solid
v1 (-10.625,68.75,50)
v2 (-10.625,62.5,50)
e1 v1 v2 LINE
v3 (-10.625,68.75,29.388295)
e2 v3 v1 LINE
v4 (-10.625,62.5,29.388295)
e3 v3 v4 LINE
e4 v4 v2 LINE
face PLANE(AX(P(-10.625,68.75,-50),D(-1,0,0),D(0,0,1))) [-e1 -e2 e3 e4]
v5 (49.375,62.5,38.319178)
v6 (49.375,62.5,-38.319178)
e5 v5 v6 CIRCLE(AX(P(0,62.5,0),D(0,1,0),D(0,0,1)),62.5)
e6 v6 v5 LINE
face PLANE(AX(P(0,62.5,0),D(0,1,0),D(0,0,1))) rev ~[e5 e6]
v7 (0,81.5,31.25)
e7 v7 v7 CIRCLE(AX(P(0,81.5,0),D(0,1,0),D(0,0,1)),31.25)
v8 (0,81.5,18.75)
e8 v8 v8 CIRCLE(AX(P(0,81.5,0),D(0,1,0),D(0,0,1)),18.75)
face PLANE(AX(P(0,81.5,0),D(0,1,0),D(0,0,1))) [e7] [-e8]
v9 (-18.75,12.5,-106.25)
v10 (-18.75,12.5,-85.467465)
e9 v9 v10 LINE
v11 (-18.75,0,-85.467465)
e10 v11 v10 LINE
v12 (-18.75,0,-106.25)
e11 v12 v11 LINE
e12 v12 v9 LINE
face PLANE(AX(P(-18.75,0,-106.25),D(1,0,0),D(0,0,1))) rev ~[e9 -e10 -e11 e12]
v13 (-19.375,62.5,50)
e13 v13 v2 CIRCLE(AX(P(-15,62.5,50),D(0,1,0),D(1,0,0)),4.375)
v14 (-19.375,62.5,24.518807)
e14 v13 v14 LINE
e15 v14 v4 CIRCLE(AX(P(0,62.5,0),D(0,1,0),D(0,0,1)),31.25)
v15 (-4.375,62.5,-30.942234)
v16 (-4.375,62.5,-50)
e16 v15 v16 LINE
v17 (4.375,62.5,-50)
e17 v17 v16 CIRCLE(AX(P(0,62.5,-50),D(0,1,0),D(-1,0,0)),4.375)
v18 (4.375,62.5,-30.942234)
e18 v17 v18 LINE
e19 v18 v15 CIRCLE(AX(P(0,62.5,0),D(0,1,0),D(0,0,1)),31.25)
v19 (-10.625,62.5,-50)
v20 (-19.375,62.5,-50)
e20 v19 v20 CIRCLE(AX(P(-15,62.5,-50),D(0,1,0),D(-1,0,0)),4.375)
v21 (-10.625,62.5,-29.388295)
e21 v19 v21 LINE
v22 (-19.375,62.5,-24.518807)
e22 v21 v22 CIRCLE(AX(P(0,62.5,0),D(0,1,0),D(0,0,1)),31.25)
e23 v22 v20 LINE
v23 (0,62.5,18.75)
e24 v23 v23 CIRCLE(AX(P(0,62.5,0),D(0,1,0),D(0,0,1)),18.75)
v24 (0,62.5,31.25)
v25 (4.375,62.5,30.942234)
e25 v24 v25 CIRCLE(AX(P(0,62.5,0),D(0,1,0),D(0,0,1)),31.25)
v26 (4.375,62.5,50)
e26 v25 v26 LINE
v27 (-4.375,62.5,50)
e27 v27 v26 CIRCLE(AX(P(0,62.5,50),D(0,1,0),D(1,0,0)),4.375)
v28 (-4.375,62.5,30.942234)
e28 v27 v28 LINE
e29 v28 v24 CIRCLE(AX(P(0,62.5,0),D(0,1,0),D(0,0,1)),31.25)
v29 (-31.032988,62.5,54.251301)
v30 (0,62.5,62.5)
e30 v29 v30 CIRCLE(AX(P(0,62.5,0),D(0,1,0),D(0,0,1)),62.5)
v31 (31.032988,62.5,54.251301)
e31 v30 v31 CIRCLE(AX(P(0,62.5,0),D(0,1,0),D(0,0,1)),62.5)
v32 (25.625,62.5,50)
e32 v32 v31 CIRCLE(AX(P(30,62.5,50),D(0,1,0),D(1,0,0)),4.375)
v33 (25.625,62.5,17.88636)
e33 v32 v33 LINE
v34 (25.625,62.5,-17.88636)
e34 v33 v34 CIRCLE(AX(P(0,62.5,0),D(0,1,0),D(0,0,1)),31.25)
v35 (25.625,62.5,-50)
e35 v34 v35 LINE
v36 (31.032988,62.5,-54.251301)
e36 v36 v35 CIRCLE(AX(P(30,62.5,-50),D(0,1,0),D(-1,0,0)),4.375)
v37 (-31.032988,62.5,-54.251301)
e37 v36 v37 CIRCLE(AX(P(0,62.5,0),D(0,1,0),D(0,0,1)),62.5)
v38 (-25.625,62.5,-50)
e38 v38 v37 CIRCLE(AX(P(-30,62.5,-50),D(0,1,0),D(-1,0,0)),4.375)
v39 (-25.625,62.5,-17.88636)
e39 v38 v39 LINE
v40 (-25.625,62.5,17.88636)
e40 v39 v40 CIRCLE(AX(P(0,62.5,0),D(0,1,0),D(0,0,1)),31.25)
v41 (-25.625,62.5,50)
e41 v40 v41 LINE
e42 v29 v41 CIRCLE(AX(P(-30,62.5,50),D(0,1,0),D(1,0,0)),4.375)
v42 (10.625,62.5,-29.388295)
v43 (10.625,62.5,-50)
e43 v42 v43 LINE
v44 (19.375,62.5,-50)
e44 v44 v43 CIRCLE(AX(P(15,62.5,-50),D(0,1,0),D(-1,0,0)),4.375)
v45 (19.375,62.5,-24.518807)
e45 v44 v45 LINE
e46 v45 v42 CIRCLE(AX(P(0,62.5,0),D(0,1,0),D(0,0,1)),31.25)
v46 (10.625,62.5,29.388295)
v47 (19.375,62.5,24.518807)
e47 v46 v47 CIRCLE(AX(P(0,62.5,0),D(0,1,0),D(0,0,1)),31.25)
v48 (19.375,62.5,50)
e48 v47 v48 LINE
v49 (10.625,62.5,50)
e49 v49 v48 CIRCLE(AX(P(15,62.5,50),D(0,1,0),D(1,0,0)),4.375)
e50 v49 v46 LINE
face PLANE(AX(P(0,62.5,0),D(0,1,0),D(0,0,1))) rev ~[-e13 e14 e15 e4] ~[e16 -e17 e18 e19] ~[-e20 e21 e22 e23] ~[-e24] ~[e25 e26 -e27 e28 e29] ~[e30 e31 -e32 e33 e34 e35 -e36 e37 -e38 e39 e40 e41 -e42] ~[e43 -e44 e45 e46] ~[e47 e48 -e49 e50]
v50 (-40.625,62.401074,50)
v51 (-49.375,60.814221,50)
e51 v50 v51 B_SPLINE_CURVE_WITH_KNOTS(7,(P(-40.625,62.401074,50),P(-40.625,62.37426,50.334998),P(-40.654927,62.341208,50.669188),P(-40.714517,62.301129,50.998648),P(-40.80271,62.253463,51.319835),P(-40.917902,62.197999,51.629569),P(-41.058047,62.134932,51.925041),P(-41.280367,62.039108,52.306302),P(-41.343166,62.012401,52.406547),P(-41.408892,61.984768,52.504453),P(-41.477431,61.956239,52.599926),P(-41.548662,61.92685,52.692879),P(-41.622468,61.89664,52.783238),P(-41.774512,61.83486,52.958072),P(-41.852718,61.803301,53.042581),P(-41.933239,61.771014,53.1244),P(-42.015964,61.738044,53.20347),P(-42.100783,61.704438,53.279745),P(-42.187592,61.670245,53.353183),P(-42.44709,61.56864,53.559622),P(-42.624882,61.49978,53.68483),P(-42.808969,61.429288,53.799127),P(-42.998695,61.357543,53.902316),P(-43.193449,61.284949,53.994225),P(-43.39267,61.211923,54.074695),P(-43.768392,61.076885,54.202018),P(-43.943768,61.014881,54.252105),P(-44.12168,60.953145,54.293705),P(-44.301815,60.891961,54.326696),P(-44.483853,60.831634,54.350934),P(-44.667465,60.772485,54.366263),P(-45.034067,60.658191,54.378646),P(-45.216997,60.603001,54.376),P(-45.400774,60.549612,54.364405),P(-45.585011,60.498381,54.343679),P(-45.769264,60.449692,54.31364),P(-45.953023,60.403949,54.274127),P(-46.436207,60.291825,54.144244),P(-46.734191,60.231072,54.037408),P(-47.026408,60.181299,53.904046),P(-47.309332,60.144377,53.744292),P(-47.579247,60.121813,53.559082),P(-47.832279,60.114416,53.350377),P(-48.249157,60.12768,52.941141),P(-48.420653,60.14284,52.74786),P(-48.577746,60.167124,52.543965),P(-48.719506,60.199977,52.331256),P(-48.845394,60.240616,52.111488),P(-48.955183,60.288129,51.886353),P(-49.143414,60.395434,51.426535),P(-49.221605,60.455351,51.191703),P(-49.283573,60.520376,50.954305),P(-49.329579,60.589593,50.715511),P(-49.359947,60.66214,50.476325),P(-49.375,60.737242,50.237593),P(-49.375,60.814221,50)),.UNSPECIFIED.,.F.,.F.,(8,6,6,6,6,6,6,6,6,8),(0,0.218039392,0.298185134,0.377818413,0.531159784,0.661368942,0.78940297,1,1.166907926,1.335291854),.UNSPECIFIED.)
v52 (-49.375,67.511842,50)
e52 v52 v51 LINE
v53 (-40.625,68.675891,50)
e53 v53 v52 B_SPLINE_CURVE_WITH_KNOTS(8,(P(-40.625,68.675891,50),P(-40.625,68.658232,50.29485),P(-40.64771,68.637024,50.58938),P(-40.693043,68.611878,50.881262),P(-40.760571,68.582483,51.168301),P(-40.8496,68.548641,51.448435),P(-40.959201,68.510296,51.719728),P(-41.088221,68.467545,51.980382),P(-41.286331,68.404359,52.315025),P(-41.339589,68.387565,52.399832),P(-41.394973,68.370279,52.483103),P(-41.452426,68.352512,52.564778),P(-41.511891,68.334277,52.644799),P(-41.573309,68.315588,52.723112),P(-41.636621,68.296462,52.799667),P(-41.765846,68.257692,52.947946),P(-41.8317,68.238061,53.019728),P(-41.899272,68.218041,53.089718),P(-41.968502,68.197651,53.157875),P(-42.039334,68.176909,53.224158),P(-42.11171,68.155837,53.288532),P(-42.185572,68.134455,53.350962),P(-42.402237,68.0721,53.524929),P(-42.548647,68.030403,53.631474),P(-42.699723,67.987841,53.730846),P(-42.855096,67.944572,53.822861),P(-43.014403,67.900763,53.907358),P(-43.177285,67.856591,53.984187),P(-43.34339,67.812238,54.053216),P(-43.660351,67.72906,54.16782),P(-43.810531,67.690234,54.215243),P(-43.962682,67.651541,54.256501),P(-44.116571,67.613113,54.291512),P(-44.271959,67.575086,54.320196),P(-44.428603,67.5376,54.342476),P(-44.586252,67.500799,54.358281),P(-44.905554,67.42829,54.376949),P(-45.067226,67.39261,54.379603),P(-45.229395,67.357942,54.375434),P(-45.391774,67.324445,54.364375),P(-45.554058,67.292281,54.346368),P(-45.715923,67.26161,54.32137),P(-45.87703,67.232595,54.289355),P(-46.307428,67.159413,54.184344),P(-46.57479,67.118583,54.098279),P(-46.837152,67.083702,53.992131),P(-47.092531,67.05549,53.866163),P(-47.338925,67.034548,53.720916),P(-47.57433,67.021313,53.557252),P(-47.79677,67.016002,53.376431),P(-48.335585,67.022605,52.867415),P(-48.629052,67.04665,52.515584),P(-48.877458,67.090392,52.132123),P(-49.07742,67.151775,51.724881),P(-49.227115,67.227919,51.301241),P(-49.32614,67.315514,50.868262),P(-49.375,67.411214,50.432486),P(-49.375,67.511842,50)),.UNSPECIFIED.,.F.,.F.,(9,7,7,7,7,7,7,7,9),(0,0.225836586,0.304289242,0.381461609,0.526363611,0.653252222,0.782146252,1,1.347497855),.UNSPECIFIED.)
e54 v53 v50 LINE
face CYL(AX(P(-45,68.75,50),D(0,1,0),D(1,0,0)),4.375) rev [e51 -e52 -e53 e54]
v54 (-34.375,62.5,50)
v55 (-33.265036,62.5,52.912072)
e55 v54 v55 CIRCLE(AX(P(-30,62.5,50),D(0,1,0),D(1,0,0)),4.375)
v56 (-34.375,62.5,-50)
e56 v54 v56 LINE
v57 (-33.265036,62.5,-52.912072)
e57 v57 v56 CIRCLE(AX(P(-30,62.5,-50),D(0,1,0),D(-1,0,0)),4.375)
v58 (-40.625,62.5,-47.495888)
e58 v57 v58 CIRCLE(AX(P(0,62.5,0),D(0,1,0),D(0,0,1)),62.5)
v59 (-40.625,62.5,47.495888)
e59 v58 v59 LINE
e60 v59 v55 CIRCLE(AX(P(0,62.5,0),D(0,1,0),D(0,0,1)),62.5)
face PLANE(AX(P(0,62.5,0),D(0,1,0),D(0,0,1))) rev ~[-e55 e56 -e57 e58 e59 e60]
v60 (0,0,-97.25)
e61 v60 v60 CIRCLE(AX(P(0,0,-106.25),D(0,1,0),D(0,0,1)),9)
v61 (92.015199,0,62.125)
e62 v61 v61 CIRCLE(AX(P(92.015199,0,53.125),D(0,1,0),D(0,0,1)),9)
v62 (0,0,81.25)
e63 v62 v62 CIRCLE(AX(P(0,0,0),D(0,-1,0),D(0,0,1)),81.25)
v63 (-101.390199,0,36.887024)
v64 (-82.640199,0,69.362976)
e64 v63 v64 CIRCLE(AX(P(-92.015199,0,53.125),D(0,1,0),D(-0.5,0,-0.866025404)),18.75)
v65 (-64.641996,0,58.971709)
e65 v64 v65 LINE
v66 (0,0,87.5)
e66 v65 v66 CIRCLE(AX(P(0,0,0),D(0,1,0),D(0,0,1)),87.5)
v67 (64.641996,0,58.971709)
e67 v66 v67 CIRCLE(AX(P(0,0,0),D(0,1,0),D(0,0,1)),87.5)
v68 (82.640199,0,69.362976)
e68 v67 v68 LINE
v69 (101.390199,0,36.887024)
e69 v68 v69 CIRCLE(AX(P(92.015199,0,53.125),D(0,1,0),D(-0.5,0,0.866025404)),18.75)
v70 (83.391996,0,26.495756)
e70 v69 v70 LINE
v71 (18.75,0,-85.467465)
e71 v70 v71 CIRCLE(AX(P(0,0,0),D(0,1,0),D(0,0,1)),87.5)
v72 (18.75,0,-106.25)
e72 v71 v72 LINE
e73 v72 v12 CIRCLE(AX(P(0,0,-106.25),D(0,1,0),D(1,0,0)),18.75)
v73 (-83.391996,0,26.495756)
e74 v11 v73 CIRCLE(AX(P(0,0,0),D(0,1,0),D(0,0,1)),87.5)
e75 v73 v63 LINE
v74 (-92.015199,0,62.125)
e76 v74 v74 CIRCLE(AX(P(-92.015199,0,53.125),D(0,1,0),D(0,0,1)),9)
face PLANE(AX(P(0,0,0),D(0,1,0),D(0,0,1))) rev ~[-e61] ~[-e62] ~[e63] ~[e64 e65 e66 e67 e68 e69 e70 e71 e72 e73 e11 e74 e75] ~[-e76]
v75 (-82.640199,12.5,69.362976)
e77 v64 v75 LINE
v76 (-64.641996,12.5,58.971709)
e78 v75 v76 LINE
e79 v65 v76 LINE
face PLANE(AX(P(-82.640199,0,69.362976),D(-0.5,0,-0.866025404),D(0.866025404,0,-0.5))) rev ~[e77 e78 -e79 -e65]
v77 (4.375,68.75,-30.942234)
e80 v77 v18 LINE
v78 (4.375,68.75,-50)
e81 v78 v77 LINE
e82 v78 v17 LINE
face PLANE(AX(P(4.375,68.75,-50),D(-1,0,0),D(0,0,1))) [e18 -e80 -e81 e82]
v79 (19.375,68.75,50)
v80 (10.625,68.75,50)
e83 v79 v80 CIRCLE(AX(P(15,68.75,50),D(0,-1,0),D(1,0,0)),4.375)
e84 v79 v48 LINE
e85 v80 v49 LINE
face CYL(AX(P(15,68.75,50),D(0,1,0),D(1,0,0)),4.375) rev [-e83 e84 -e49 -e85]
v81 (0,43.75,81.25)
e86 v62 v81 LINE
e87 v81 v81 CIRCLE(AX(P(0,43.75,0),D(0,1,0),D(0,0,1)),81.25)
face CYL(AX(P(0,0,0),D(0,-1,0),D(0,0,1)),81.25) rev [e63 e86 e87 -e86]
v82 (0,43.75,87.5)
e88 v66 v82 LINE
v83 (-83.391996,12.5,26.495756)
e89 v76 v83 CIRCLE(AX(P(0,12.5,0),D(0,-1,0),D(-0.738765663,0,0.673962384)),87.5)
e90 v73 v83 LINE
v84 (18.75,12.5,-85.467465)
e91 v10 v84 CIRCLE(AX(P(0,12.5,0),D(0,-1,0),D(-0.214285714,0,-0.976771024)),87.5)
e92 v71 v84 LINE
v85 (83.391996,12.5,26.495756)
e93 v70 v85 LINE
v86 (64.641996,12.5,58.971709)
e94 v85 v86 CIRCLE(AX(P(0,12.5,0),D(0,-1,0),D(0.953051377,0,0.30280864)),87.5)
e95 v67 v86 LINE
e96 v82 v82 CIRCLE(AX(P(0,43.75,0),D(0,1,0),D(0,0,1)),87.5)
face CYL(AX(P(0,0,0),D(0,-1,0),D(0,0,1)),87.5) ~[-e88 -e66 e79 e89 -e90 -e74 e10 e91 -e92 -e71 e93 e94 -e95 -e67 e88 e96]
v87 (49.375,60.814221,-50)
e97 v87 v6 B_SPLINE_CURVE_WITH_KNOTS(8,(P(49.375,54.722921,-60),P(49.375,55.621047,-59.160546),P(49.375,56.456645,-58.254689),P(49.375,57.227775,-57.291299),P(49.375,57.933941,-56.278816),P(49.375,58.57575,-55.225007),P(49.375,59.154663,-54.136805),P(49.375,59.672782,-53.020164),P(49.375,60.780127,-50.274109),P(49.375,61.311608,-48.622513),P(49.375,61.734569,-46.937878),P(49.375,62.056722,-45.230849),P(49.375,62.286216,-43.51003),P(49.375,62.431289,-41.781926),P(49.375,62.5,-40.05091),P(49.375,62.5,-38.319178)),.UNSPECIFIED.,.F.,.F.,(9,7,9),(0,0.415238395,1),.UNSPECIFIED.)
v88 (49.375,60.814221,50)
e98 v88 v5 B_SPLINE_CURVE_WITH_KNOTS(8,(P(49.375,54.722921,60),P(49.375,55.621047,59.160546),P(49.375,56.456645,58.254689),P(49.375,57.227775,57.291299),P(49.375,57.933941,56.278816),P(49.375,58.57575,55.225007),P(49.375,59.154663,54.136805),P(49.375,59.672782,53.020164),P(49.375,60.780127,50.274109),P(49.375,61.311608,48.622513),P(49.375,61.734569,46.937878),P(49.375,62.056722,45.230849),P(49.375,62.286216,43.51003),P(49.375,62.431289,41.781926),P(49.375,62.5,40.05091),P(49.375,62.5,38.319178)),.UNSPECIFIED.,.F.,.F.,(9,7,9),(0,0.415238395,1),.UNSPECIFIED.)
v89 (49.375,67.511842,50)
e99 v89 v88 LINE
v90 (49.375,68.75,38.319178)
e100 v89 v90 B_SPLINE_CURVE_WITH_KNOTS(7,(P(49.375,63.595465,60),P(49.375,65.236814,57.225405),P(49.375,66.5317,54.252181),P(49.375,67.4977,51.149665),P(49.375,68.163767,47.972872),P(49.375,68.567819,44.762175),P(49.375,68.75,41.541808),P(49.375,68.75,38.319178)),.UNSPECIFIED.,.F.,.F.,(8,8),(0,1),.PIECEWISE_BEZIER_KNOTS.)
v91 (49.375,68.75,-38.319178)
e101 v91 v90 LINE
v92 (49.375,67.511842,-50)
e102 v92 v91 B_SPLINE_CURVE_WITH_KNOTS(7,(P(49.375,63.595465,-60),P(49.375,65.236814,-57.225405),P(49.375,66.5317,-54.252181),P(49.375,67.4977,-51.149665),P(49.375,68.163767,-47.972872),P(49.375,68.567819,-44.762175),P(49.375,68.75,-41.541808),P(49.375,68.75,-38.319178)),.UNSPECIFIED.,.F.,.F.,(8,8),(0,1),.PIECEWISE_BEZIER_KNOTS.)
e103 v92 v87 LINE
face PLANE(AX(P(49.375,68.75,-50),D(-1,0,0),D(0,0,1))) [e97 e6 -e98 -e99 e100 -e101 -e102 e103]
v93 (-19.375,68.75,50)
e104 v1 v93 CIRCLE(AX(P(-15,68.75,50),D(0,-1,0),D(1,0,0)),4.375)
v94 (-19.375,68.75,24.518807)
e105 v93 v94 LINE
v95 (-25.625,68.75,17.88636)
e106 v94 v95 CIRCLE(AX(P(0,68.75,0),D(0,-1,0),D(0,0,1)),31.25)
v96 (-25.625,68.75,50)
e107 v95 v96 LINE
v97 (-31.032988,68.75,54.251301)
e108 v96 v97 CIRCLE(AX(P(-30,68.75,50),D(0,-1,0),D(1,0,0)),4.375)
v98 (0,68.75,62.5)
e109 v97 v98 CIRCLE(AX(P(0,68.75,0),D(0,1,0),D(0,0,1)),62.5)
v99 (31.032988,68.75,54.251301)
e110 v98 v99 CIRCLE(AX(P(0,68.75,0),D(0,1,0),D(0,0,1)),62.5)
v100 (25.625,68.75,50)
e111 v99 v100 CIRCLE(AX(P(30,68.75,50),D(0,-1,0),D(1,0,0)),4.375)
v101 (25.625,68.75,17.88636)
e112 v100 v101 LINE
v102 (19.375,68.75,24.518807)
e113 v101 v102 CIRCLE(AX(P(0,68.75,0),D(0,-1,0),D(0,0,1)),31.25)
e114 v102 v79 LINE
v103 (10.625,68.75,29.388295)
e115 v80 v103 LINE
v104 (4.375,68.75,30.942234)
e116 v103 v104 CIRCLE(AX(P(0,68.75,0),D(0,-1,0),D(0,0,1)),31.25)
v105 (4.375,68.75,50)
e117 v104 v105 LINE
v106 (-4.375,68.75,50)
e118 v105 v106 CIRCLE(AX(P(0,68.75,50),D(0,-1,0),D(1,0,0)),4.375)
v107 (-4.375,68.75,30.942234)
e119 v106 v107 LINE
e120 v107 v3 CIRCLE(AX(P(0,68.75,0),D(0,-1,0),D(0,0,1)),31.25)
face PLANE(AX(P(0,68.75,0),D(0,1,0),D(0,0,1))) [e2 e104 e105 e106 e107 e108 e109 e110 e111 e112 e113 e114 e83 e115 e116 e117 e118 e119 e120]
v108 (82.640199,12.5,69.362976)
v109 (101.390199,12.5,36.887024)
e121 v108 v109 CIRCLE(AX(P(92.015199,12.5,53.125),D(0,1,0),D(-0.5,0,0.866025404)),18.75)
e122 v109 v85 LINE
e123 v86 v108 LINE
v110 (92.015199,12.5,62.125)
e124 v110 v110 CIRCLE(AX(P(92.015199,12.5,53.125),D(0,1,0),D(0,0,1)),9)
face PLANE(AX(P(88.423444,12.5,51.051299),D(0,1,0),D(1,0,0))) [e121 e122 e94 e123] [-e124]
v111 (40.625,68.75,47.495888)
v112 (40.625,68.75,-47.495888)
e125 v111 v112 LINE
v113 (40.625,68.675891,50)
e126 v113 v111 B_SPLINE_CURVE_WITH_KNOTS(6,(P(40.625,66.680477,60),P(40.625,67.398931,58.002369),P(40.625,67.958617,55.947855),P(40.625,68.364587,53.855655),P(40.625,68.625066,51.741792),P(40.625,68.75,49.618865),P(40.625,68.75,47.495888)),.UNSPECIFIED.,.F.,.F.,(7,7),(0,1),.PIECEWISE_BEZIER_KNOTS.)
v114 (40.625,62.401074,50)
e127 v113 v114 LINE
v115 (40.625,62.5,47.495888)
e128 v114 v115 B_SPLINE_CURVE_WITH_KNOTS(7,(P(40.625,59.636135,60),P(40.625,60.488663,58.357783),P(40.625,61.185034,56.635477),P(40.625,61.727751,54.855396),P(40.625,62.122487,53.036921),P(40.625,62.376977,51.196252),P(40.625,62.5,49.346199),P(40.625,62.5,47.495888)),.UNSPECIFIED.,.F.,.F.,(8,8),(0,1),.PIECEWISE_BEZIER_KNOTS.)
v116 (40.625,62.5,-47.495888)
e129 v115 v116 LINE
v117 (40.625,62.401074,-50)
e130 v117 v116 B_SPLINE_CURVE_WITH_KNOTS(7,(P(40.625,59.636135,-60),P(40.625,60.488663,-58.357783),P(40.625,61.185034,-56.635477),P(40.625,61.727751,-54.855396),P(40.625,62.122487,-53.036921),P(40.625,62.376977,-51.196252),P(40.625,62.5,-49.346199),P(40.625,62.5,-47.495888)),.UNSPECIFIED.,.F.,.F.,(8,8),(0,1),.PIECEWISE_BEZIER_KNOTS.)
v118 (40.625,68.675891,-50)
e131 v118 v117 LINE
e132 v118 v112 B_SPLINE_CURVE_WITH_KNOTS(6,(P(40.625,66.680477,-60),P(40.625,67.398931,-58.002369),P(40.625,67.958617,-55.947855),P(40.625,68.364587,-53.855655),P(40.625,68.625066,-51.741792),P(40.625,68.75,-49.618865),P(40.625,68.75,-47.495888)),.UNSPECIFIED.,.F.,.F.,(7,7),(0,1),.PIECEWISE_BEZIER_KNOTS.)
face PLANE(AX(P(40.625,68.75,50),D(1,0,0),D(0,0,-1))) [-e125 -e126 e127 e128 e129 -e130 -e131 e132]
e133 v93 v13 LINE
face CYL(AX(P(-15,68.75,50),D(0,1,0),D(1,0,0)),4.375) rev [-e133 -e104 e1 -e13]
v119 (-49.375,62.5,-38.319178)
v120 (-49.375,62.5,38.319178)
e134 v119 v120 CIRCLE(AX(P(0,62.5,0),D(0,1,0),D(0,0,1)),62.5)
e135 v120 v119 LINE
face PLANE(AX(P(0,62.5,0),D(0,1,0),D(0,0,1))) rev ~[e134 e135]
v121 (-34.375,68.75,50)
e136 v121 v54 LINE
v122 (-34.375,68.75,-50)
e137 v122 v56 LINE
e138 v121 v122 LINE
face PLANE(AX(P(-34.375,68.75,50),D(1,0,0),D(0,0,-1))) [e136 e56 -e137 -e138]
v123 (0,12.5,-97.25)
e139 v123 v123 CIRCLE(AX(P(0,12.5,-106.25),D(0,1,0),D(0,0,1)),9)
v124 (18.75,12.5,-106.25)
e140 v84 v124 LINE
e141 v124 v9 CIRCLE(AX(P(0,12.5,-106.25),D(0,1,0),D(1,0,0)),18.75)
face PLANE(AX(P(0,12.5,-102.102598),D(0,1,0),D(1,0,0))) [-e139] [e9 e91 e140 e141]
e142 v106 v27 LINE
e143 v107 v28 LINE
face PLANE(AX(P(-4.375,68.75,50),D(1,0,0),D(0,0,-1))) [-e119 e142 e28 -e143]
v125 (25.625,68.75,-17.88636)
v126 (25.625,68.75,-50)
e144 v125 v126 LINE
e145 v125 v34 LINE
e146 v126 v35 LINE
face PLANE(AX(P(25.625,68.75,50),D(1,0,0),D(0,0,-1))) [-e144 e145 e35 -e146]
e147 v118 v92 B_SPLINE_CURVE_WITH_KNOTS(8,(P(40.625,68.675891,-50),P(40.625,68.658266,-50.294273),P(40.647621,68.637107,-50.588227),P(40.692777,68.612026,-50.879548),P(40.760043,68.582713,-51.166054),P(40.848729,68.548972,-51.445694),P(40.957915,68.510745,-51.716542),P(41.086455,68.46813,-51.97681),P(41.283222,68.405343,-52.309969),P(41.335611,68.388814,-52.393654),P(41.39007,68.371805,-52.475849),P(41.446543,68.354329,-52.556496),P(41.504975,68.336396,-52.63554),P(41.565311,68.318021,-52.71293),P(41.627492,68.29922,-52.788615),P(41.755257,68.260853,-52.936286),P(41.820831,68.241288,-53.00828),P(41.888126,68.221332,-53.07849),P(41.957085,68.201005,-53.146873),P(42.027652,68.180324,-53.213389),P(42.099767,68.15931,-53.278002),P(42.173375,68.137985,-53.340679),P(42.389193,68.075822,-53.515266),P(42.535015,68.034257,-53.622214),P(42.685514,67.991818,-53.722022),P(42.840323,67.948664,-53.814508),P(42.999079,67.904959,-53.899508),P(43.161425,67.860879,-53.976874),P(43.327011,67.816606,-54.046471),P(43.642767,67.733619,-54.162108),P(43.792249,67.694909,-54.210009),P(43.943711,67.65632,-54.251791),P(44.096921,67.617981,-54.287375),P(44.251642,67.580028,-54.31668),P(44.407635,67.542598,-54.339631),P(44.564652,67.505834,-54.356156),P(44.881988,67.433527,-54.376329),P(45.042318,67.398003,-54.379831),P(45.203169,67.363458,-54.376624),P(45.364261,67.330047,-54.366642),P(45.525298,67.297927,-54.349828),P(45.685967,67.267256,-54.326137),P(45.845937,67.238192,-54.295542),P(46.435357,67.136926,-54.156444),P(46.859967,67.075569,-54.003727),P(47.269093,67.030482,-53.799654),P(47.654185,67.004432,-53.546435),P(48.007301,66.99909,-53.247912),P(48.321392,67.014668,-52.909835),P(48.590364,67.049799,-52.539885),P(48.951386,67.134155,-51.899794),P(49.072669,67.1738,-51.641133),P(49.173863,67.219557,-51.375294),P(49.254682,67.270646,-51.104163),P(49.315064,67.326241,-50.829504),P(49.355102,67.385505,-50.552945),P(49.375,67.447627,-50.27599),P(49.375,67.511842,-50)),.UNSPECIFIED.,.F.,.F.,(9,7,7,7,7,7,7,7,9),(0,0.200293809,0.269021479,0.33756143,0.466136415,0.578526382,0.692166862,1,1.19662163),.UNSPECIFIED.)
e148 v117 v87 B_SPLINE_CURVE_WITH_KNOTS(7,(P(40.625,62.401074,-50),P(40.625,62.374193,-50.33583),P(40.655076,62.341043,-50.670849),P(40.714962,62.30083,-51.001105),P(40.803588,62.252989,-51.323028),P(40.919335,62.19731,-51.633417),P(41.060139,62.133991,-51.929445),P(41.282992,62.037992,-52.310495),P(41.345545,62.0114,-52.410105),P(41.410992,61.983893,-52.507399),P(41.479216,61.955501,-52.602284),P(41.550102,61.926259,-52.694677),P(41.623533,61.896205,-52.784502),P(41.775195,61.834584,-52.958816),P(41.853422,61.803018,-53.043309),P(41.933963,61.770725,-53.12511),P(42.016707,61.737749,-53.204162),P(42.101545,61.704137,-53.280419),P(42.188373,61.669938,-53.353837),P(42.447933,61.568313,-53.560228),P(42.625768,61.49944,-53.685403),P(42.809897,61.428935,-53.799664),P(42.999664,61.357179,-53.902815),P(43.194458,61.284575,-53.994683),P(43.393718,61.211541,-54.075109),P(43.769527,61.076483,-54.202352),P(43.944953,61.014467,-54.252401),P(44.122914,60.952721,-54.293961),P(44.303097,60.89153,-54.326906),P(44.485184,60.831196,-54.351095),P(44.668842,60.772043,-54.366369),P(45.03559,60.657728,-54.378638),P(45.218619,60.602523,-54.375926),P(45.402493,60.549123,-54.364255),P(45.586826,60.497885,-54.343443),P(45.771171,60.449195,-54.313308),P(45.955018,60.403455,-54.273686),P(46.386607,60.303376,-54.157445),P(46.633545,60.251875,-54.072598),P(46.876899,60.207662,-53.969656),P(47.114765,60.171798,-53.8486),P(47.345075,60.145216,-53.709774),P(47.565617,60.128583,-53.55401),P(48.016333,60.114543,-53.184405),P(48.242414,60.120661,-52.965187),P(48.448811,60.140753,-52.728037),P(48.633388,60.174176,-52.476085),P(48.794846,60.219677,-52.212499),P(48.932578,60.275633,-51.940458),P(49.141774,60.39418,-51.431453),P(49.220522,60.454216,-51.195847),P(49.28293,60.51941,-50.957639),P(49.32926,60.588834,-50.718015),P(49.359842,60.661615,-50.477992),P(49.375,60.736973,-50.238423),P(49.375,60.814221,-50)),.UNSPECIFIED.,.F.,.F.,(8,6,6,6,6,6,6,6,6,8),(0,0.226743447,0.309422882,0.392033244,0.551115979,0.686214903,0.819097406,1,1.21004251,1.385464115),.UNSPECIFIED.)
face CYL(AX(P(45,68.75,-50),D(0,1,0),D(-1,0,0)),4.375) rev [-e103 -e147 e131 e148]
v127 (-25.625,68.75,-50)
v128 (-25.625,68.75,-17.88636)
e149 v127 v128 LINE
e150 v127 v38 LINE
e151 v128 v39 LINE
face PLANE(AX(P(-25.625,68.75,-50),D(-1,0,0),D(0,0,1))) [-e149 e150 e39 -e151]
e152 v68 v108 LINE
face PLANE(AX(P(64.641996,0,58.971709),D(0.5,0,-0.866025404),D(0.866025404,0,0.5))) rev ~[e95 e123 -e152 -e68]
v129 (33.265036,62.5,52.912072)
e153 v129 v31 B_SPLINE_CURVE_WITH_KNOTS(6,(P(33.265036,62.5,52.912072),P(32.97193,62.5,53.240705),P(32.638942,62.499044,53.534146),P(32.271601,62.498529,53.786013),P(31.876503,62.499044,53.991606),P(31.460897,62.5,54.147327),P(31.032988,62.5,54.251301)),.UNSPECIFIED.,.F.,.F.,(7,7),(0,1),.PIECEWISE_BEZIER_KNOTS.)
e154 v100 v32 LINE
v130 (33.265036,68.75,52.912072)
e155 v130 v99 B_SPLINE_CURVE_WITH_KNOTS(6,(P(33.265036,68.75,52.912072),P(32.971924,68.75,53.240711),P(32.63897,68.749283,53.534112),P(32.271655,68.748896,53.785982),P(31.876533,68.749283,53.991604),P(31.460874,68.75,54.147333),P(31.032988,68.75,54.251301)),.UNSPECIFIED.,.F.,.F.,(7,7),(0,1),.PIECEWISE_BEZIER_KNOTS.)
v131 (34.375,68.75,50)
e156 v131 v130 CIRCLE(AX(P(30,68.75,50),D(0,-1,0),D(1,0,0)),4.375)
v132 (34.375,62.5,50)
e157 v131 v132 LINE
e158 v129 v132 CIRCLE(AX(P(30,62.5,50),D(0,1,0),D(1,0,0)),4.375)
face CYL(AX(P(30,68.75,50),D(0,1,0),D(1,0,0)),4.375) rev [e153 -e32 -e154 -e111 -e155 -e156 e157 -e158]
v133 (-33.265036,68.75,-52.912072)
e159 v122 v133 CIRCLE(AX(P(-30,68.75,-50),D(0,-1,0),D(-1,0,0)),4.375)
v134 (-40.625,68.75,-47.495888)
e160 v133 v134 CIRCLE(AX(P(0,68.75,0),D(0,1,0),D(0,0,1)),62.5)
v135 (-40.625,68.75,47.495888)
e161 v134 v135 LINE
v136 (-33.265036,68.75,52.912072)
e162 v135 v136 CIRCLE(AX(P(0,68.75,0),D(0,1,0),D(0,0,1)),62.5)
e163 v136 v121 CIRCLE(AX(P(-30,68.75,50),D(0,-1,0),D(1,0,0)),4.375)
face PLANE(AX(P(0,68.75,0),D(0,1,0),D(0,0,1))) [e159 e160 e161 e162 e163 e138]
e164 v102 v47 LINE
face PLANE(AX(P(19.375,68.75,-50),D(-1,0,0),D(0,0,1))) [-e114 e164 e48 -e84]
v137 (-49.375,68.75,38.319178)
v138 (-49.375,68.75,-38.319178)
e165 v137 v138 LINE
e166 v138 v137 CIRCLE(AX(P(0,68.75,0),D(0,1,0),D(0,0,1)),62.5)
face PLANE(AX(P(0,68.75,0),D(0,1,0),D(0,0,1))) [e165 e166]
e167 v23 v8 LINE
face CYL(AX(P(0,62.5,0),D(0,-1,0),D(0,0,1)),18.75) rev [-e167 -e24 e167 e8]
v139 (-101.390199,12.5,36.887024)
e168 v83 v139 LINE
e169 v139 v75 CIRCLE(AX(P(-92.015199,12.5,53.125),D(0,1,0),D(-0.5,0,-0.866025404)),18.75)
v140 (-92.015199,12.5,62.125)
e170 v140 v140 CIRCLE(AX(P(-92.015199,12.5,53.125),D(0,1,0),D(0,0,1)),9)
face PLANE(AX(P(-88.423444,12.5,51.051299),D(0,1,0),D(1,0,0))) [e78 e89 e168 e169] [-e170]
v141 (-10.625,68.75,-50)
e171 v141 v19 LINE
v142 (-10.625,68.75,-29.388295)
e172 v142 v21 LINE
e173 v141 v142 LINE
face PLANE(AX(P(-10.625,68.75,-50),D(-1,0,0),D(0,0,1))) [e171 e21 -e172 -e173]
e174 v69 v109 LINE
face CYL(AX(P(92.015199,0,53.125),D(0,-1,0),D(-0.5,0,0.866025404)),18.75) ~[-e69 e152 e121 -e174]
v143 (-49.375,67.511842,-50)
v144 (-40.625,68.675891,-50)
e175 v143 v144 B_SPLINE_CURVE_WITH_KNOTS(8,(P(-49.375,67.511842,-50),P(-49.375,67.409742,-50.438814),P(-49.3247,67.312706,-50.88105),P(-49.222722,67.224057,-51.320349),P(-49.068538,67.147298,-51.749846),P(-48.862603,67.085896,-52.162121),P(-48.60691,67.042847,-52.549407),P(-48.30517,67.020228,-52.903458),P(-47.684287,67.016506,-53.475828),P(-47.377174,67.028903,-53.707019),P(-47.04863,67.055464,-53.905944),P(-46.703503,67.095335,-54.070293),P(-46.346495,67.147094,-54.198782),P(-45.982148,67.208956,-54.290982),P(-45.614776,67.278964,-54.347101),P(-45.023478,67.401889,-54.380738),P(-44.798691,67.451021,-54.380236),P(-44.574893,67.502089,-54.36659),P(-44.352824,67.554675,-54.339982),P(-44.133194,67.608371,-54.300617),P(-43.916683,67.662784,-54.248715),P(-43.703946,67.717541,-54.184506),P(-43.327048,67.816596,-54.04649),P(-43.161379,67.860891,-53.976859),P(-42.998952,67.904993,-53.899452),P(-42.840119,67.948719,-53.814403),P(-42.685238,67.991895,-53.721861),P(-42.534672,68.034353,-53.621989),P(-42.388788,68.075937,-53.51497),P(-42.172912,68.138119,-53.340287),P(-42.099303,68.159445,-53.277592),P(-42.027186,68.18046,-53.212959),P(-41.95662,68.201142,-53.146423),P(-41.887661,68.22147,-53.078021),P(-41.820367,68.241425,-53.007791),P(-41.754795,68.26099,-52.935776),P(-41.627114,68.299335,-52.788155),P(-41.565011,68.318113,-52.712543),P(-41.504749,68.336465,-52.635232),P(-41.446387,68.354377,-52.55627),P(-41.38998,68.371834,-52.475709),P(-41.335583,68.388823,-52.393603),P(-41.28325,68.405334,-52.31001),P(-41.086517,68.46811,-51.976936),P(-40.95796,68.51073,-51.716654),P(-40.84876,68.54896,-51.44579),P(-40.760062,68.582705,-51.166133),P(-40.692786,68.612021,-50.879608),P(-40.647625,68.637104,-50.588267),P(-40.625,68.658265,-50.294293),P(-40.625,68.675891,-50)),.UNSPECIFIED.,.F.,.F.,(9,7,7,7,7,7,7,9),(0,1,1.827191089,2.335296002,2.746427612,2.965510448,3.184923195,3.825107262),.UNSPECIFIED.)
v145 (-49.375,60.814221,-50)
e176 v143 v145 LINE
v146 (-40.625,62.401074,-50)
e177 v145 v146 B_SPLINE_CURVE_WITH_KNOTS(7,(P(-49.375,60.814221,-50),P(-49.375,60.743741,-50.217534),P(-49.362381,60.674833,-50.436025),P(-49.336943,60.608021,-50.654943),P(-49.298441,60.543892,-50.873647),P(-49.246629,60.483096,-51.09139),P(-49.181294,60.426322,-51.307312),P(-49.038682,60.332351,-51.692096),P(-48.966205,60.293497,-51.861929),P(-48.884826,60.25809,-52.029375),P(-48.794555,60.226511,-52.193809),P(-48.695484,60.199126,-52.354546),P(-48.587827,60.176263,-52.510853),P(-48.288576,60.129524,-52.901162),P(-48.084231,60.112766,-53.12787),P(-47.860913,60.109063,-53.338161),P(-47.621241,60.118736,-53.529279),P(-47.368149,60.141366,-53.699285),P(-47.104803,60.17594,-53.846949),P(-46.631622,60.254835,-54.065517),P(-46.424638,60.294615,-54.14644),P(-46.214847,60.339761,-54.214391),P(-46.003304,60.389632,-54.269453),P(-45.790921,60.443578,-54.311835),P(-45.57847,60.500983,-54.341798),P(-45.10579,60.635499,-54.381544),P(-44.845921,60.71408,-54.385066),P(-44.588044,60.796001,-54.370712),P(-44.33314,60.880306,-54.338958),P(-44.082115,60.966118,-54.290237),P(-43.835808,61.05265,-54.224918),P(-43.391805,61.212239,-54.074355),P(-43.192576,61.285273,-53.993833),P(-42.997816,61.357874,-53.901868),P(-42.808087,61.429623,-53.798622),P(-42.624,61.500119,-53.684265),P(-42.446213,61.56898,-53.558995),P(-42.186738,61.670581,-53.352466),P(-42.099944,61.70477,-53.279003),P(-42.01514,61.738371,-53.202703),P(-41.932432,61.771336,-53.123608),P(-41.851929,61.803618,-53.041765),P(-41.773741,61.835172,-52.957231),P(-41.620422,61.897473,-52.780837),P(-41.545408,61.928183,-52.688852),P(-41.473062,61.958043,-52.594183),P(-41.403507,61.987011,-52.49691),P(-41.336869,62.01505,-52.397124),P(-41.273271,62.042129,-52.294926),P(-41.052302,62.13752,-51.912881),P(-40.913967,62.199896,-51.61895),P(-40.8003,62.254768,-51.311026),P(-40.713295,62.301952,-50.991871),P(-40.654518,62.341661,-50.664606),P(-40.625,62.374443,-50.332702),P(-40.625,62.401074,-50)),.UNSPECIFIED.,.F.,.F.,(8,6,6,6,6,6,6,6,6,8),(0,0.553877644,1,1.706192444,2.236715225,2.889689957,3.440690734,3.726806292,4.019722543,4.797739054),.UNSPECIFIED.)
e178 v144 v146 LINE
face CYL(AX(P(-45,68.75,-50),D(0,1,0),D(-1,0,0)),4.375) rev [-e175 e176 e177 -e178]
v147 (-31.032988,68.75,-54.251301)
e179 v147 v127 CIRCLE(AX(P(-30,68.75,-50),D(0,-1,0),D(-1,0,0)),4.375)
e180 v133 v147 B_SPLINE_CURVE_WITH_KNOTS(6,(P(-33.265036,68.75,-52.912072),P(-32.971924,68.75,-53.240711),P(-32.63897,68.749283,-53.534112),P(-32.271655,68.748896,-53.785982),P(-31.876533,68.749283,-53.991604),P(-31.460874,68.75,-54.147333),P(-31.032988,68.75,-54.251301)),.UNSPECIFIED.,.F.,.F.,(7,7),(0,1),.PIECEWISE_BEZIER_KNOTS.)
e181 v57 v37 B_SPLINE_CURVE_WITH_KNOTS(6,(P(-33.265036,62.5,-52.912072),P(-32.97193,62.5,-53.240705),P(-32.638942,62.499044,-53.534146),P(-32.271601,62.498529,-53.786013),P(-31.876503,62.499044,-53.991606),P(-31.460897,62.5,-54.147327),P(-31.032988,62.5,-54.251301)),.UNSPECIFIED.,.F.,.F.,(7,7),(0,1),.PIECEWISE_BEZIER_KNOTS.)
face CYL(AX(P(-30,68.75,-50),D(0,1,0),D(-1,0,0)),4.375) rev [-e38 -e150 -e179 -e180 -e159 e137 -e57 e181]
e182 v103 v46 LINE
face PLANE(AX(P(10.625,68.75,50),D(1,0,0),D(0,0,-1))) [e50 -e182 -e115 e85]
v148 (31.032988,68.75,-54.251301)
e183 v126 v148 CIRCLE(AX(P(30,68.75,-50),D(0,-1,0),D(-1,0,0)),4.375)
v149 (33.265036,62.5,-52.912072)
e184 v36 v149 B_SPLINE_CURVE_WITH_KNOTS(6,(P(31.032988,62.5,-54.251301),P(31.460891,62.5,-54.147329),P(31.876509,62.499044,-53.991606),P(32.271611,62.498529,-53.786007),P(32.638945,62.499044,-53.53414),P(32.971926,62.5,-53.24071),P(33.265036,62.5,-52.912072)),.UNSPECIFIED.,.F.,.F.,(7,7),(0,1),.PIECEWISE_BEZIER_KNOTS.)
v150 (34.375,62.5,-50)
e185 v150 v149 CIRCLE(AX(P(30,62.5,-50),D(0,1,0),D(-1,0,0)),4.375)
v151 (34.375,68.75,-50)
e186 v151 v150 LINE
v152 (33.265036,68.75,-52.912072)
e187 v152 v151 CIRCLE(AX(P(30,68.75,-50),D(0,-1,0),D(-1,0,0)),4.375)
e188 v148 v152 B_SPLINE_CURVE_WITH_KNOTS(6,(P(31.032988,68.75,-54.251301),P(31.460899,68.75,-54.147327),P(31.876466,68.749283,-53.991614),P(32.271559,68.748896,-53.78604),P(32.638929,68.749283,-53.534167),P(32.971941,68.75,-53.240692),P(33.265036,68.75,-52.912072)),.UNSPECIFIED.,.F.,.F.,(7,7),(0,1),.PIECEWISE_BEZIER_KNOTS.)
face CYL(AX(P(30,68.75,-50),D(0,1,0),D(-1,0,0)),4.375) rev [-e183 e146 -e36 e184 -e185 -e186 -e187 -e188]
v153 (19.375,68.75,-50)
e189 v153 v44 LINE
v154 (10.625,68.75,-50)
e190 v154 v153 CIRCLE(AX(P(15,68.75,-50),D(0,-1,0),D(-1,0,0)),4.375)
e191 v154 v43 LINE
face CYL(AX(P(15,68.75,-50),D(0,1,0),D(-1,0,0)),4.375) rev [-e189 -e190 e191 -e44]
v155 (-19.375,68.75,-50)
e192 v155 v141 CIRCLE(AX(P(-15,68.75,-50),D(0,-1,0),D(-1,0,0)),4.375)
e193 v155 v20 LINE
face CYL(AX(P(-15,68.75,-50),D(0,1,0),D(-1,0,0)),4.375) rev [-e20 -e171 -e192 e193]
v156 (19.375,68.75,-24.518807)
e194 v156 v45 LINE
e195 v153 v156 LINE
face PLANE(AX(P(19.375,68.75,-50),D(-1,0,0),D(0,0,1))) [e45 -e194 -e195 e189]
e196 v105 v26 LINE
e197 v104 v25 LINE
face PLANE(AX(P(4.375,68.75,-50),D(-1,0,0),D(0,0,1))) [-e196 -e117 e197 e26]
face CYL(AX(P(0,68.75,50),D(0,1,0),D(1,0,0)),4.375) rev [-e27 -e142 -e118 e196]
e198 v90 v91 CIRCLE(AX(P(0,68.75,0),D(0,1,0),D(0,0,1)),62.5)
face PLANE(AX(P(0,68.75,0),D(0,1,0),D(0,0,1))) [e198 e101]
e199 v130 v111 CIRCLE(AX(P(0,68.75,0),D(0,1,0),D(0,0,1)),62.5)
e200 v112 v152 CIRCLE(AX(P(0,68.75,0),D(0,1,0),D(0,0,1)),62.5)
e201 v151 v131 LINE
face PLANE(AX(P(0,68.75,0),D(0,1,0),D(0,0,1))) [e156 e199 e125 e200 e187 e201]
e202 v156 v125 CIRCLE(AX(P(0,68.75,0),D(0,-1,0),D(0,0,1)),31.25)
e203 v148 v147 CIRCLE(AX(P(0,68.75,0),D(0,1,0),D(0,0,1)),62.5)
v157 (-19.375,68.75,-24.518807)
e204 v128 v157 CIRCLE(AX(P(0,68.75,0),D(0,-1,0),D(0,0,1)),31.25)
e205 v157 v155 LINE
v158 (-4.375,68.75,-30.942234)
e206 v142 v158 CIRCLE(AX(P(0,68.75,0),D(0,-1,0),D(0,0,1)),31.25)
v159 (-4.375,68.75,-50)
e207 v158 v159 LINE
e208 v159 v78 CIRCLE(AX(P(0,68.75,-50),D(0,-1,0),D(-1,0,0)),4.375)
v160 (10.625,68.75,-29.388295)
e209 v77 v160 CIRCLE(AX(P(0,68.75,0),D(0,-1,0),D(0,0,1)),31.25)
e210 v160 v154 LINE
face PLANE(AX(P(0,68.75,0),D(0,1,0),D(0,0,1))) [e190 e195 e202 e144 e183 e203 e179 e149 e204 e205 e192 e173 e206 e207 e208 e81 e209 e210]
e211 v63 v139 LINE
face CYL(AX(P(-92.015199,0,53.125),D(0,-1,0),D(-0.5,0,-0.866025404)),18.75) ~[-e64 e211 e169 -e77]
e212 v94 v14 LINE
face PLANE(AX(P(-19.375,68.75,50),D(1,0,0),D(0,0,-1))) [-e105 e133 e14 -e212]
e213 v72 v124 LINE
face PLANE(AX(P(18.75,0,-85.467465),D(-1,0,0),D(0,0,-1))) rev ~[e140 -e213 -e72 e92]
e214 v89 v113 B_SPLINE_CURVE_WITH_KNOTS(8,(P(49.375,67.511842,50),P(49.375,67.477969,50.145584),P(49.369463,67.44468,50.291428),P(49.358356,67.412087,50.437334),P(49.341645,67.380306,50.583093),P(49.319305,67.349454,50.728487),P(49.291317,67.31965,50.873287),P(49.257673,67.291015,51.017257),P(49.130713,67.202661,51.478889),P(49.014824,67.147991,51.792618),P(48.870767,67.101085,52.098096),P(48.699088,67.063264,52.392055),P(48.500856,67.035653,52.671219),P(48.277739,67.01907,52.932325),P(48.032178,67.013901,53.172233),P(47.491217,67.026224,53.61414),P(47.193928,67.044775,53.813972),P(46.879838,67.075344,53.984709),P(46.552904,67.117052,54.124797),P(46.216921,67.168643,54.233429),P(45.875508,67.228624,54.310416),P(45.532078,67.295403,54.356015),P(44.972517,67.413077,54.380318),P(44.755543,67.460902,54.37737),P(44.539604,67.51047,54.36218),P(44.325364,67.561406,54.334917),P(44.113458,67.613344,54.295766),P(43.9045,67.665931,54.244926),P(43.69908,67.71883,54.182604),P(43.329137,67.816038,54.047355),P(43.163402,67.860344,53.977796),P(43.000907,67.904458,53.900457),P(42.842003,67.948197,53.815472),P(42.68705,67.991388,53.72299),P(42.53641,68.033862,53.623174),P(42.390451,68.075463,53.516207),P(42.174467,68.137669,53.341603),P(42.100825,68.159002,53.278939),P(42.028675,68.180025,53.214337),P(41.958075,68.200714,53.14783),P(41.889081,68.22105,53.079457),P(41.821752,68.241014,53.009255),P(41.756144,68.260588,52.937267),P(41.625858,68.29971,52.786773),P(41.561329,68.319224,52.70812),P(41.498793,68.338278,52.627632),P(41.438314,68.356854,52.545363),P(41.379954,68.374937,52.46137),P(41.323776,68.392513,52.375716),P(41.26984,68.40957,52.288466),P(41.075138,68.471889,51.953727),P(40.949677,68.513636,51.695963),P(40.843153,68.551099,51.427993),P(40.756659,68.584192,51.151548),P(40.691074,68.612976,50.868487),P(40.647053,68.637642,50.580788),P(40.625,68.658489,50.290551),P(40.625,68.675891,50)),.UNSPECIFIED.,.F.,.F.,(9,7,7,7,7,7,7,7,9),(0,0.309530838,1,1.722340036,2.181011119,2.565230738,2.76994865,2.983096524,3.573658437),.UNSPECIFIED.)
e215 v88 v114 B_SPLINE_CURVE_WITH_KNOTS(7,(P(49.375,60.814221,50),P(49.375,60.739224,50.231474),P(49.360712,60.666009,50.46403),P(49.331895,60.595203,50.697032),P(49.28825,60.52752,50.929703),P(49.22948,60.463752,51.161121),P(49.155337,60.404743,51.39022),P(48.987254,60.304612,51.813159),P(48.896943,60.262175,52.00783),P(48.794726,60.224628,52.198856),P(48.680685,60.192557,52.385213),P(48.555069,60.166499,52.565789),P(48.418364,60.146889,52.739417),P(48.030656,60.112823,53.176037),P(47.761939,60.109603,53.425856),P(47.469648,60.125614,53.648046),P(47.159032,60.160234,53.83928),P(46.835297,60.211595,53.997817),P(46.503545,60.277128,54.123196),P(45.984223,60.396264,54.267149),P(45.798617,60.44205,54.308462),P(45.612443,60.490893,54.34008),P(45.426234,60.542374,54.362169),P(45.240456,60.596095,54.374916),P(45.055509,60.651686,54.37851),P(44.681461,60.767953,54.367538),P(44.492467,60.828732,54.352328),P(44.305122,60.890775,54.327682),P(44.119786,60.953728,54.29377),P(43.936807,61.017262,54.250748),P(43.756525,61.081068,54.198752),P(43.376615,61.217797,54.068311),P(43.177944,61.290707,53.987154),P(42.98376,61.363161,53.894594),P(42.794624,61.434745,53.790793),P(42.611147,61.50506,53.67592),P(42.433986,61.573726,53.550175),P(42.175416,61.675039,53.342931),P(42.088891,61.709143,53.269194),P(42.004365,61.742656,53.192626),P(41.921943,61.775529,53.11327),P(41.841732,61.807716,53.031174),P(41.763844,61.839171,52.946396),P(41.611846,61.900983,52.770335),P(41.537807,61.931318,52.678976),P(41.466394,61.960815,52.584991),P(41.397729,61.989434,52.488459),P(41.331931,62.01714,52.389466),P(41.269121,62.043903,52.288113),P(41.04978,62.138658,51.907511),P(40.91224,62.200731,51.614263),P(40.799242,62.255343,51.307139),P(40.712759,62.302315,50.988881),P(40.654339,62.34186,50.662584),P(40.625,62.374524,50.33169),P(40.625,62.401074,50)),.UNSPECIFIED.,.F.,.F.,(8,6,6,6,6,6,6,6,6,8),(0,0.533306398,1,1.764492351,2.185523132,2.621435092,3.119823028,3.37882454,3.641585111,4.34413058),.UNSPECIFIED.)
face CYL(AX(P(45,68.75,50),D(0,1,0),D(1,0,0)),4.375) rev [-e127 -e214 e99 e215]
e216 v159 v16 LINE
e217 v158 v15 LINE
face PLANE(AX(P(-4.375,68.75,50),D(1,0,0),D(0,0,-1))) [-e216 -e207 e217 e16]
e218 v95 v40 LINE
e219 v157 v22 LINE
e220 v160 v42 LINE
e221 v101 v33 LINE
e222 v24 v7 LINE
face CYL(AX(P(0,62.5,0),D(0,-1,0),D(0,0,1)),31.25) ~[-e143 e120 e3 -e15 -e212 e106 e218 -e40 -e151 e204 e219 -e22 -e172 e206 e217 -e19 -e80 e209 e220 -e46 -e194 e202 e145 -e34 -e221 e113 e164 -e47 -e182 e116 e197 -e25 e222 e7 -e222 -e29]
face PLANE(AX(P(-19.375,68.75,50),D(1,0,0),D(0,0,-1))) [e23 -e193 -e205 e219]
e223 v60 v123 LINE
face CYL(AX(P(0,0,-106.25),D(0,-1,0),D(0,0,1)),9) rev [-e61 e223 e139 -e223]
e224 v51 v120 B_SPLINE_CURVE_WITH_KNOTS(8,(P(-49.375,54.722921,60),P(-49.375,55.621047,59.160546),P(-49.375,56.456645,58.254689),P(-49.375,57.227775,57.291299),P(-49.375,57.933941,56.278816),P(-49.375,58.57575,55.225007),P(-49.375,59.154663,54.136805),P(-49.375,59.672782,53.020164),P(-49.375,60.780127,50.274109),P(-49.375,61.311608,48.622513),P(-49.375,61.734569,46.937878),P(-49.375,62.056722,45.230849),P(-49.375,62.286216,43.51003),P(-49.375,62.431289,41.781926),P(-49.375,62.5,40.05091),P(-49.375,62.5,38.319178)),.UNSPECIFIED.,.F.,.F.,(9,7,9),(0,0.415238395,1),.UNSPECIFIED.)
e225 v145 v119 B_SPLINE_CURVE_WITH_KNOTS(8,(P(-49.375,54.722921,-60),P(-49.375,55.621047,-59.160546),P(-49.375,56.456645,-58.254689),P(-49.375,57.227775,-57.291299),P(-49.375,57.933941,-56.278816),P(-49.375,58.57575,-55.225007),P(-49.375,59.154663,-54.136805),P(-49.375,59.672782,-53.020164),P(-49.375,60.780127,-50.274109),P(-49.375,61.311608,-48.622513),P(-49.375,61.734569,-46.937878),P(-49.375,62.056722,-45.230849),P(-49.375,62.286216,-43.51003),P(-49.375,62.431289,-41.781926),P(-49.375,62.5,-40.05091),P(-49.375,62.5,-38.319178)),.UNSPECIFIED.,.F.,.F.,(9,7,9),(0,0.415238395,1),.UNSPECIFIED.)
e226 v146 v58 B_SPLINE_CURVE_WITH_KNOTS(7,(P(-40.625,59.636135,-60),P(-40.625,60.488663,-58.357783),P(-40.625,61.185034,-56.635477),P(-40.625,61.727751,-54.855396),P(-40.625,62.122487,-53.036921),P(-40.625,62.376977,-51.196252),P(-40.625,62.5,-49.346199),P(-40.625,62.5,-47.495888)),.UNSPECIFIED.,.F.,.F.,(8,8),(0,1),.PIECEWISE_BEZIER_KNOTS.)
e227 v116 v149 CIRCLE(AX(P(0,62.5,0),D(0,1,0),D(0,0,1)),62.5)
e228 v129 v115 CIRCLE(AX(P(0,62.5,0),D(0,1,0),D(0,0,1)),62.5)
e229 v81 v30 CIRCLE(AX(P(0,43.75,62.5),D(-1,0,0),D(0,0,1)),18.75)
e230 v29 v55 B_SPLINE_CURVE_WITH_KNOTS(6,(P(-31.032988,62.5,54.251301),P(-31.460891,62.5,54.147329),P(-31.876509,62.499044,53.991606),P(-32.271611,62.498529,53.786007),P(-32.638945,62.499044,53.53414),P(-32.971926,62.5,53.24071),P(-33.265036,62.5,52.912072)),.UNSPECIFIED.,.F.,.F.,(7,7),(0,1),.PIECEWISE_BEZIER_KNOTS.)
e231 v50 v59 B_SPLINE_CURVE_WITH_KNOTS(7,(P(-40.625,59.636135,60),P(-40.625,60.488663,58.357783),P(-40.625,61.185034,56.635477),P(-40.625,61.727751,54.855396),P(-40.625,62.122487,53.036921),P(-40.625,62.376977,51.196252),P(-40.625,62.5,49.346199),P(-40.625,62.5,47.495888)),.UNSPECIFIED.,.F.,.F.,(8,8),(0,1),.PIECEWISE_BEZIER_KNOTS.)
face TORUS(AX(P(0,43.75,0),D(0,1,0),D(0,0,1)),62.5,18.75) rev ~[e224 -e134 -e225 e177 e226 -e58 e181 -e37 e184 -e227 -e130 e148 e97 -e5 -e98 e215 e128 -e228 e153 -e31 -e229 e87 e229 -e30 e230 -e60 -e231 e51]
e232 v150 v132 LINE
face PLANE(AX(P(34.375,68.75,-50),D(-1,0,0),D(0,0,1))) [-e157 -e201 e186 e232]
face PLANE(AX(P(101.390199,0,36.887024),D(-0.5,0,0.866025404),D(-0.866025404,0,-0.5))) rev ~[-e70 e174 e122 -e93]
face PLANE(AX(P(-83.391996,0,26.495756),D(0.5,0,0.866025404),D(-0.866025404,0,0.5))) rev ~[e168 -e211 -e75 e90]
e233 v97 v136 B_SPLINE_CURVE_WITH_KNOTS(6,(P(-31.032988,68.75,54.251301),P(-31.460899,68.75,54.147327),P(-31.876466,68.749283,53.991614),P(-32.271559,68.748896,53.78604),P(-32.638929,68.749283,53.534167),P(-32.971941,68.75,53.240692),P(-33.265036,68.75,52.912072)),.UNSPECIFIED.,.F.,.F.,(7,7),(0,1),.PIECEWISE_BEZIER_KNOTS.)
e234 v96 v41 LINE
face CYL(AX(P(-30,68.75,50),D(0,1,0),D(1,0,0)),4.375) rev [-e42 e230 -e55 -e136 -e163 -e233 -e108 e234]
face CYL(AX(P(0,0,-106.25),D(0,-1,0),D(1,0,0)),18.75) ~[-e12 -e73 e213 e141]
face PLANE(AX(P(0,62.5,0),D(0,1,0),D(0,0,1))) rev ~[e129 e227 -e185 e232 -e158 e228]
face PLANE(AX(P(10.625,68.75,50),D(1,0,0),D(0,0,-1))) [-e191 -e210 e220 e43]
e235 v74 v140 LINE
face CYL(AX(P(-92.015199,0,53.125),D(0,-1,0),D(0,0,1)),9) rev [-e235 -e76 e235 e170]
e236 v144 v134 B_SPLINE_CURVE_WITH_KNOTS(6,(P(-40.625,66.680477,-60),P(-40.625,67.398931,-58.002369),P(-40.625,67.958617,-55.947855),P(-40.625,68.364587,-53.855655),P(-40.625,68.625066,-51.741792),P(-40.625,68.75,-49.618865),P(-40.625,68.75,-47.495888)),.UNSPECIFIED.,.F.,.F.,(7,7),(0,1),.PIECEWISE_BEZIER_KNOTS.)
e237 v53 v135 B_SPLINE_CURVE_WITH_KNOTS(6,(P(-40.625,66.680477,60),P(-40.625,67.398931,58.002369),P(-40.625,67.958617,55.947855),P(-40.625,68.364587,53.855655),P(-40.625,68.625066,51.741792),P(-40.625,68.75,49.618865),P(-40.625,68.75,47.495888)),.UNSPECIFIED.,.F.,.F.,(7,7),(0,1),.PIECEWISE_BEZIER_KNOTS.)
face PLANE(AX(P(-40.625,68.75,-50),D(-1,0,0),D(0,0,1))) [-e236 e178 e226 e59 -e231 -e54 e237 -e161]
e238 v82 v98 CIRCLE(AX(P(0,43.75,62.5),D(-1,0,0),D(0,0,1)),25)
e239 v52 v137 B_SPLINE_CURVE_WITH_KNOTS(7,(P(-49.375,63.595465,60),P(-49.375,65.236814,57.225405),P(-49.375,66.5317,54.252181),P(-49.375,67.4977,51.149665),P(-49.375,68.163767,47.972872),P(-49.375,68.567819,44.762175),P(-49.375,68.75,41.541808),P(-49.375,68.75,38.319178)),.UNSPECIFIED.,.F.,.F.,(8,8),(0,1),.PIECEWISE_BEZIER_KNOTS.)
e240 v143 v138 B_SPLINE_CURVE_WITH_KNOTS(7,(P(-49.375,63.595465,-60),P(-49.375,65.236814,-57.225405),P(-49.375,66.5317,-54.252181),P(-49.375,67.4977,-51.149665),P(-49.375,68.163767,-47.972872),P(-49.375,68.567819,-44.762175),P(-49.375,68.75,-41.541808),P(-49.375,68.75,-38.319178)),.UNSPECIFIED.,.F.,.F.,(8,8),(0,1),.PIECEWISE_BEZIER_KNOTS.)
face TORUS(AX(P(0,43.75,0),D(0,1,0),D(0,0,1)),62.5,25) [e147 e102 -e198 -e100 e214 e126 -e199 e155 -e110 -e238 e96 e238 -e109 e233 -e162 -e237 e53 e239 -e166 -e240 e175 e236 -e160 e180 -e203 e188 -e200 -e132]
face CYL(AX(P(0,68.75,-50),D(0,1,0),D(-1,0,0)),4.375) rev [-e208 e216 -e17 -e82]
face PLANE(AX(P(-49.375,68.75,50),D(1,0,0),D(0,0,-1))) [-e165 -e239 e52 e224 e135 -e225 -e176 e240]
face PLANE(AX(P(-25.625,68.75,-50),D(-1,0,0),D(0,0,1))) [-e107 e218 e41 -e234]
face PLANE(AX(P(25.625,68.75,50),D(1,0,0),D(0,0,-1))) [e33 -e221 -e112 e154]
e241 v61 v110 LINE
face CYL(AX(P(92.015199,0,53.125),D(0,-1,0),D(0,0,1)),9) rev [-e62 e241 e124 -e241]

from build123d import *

# Parameters (mm, degrees)
SKETCH1_R                = 87.5
BOSS_EXTRUDE1_DEPTH      = 68.75
FILLET1_R                = 25
SHELL1_T                 = -6.25
CUT_EXTRUDE1_DEPTH       = 68.75
BOSS_EXTRUDE2_DEPTH      = 12.75
BOSS_EXTRUDE2_DEPTH_BACK = 6.25
SKETCH3_R                = 31.25
SKETCH3_R_2              = 18.75
CUT_EXTRUDE2_START       = -12.75
SKETCH4_R                = 18.75
CUT_EXTRUDE2_DEPTH       = 12.75
SKETCH5_R                = 9
BOSS_EXTRUDE3_DEPTH      = 12.5


with BuildPart() as part:
    # Sketch1 → Boss-Extrude1 (new body)
    with BuildSketch(Plane(origin=(0, 0, 0), x_dir=(1, 0, 0), z_dir=(0, 1, 0))):
        with Locations(Location((0, 0, 0), (0, 0, 270))):
            Circle(SKETCH1_R)
    extrude(amount=BOSS_EXTRUDE1_DEPTH)

    # Fillet1
    fillet1_edges = [part.edges().sort_by_distance(p)[0] for p in [
        (0, 68.75, -87.5),
    ]]
    fillet(fillet1_edges, radius=FILLET1_R)

    # Shell1
    shell1_openings = [part.faces().sort_by_distance(p)[0] for p in [
        (0, 0, 0),
    ]]
    offset(amount=SHELL1_T, openings=shell1_openings, kind=Kind.INTERSECTION)

    # Sketch2 → Cut-Extrude1 (cut)
    with BuildSketch(Plane(origin=(0, 68.75, 0), x_dir=(1, 0, 0), z_dir=(0, 1, 0))):
        with BuildLine():
            Line((-34.375, -50), (-34.375, 50))
            ThreePointArc((-34.375, 50), (-30, 54.375), (-25.625, 50))
            Line((-25.625, 50), (-25.625, -50))
            ThreePointArc((-25.625, -50), (-30, -54.375), (-34.375, -50))
        make_face()
        with BuildLine():
            Line((-49.375, -50), (-49.375, 50))
            ThreePointArc((-49.375, 50), (-45, 54.375), (-40.625, 50))
            Line((-40.625, 50), (-40.625, -50))
            ThreePointArc((-40.625, -50), (-45, -54.375), (-49.375, -50))
        make_face()
        with BuildLine():
            Line((-19.375, -50), (-19.375, 50))
            ThreePointArc((-19.375, 50), (-15, 54.375), (-10.625, 50))
            Line((-10.625, 50), (-10.625, -50))
            ThreePointArc((-10.625, -50), (-15, -54.375), (-19.375, -50))
        make_face()
        with BuildLine():
            Line((-4.375, -50), (-4.375, 50))
            ThreePointArc((-4.375, 50), (0, 54.375), (4.375, 50))
            Line((4.375, 50), (4.375, -50))
            ThreePointArc((4.375, -50), (0, -54.375), (-4.375, -50))
        make_face()
        with BuildLine():
            Line((10.625, -50), (10.625, 50))
            ThreePointArc((10.625, 50), (15, 54.375), (19.375, 50))
            Line((19.375, 50), (19.375, -50))
            ThreePointArc((19.375, -50), (15, -54.375), (10.625, -50))
        make_face()
        with BuildLine():
            Line((25.625, -50), (25.625, 50))
            ThreePointArc((25.625, 50), (30, 54.375), (34.375, 50))
            Line((34.375, 50), (34.375, -50))
            ThreePointArc((34.375, -50), (30, -54.375), (25.625, -50))
        make_face()
        with BuildLine():
            Line((40.625, -50), (40.625, 50))
            ThreePointArc((40.625, 50), (45, 54.375), (49.375, 50))
            Line((49.375, 50), (49.375, -50))
            ThreePointArc((49.375, -50), (45, -54.375), (40.625, -50))
        make_face()
    extrude(amount=-CUT_EXTRUDE1_DEPTH, mode=Mode.SUBTRACT)

    # Sketch3 → Boss-Extrude2 (add, two sides: drawn at the far end of the back side and taken through both)
    with BuildSketch(Plane(origin=(0, 68.75, 0), x_dir=(1, 0, 0), z_dir=(0, 1, 0)).offset(-BOSS_EXTRUDE2_DEPTH_BACK)):
        with Locations(Location((0, 0, 0), (0, 0, 270))):
            Circle(SKETCH3_R)
        with Locations(Location((0, 0, 0), (0, 0, 270))):
            Circle(SKETCH3_R_2, mode=Mode.SUBTRACT)
    extrude(amount=BOSS_EXTRUDE2_DEPTH + BOSS_EXTRUDE2_DEPTH_BACK)

    # Sketch4 → Cut-Extrude2 (cut)
    with BuildSketch(Plane.XZ.offset(-62.5).offset(CUT_EXTRUDE2_START)):
        with Locations(Location((0, 0, 0), (0, 0, 90))):
            Circle(SKETCH4_R)
    extrude(amount=CUT_EXTRUDE2_DEPTH, mode=Mode.SUBTRACT)

    # Sketch5 → Boss-Extrude3 (add)
    # profile 1 of 3: a face of its own
    with BuildSketch(Plane(origin=(0, 0, 0), x_dir=(1, 0, 0), z_dir=(0, 1, 0))):
        with BuildLine():
            Line((-18.75, 106.25), (-18.75, 85.46746457))
            ThreePointArc((-18.75, 85.46746457), (0, 87.5), (18.75, 85.46746457))
            Line((18.75, 85.46746457), (18.75, 106.25))
            ThreePointArc((18.75, 106.25), (0, 125), (-18.75, 106.25))
        make_face()
        with Locations(Location((0, 106.25, 0), (0, 0, 270))):
            Circle(SKETCH5_R, mode=Mode.SUBTRACT)
    # profile 2 of 3: a face of its own
    with BuildSketch(Plane(origin=(0, 0, 0), x_dir=(1, 0, 0), z_dir=(0, 1, 0))):
        with BuildLine():
            Line((101.390199152, -36.887023679), (83.391995515, -26.495755964))
            ThreePointArc((83.391995515, -26.495755964), (75.777222831, -43.75), (64.641995515, -58.971708606))
            Line((64.641995515, -58.971708606), (82.640199152, -69.362976321))
            ThreePointArc((82.640199152, -69.362976321), (108.253175473, -62.5), (101.390199152, -36.887023679))
        make_face()
        with Locations(Location((92.015199152, -53.125, 0), (0, 0, 270))):
            Circle(SKETCH5_R, mode=Mode.SUBTRACT)
    # profile 3 of 3: a face of its own
    with BuildSketch(Plane(origin=(0, 0, 0), x_dir=(1, 0, 0), z_dir=(0, 1, 0))):
        with BuildLine():
            Line((-82.640199152, -69.362976321), (-64.641995515, -58.971708606))
            ThreePointArc((-64.641995515, -58.971708606), (-75.777222831, -43.75), (-83.391995515, -26.495755964))
            Line((-83.391995515, -26.495755964), (-101.390199152, -36.887023679))
            ThreePointArc((-101.390199152, -36.887023679), (-108.253175473, -62.5), (-82.640199152, -69.362976321))
        make_face()
        with Locations(Location((-92.015199152, -53.125, 0), (0, 0, 270))):
            Circle(SKETCH5_R, mode=Mode.SUBTRACT)
    extrude(amount=BOSS_EXTRUDE3_DEPTH)


solid = part.part
